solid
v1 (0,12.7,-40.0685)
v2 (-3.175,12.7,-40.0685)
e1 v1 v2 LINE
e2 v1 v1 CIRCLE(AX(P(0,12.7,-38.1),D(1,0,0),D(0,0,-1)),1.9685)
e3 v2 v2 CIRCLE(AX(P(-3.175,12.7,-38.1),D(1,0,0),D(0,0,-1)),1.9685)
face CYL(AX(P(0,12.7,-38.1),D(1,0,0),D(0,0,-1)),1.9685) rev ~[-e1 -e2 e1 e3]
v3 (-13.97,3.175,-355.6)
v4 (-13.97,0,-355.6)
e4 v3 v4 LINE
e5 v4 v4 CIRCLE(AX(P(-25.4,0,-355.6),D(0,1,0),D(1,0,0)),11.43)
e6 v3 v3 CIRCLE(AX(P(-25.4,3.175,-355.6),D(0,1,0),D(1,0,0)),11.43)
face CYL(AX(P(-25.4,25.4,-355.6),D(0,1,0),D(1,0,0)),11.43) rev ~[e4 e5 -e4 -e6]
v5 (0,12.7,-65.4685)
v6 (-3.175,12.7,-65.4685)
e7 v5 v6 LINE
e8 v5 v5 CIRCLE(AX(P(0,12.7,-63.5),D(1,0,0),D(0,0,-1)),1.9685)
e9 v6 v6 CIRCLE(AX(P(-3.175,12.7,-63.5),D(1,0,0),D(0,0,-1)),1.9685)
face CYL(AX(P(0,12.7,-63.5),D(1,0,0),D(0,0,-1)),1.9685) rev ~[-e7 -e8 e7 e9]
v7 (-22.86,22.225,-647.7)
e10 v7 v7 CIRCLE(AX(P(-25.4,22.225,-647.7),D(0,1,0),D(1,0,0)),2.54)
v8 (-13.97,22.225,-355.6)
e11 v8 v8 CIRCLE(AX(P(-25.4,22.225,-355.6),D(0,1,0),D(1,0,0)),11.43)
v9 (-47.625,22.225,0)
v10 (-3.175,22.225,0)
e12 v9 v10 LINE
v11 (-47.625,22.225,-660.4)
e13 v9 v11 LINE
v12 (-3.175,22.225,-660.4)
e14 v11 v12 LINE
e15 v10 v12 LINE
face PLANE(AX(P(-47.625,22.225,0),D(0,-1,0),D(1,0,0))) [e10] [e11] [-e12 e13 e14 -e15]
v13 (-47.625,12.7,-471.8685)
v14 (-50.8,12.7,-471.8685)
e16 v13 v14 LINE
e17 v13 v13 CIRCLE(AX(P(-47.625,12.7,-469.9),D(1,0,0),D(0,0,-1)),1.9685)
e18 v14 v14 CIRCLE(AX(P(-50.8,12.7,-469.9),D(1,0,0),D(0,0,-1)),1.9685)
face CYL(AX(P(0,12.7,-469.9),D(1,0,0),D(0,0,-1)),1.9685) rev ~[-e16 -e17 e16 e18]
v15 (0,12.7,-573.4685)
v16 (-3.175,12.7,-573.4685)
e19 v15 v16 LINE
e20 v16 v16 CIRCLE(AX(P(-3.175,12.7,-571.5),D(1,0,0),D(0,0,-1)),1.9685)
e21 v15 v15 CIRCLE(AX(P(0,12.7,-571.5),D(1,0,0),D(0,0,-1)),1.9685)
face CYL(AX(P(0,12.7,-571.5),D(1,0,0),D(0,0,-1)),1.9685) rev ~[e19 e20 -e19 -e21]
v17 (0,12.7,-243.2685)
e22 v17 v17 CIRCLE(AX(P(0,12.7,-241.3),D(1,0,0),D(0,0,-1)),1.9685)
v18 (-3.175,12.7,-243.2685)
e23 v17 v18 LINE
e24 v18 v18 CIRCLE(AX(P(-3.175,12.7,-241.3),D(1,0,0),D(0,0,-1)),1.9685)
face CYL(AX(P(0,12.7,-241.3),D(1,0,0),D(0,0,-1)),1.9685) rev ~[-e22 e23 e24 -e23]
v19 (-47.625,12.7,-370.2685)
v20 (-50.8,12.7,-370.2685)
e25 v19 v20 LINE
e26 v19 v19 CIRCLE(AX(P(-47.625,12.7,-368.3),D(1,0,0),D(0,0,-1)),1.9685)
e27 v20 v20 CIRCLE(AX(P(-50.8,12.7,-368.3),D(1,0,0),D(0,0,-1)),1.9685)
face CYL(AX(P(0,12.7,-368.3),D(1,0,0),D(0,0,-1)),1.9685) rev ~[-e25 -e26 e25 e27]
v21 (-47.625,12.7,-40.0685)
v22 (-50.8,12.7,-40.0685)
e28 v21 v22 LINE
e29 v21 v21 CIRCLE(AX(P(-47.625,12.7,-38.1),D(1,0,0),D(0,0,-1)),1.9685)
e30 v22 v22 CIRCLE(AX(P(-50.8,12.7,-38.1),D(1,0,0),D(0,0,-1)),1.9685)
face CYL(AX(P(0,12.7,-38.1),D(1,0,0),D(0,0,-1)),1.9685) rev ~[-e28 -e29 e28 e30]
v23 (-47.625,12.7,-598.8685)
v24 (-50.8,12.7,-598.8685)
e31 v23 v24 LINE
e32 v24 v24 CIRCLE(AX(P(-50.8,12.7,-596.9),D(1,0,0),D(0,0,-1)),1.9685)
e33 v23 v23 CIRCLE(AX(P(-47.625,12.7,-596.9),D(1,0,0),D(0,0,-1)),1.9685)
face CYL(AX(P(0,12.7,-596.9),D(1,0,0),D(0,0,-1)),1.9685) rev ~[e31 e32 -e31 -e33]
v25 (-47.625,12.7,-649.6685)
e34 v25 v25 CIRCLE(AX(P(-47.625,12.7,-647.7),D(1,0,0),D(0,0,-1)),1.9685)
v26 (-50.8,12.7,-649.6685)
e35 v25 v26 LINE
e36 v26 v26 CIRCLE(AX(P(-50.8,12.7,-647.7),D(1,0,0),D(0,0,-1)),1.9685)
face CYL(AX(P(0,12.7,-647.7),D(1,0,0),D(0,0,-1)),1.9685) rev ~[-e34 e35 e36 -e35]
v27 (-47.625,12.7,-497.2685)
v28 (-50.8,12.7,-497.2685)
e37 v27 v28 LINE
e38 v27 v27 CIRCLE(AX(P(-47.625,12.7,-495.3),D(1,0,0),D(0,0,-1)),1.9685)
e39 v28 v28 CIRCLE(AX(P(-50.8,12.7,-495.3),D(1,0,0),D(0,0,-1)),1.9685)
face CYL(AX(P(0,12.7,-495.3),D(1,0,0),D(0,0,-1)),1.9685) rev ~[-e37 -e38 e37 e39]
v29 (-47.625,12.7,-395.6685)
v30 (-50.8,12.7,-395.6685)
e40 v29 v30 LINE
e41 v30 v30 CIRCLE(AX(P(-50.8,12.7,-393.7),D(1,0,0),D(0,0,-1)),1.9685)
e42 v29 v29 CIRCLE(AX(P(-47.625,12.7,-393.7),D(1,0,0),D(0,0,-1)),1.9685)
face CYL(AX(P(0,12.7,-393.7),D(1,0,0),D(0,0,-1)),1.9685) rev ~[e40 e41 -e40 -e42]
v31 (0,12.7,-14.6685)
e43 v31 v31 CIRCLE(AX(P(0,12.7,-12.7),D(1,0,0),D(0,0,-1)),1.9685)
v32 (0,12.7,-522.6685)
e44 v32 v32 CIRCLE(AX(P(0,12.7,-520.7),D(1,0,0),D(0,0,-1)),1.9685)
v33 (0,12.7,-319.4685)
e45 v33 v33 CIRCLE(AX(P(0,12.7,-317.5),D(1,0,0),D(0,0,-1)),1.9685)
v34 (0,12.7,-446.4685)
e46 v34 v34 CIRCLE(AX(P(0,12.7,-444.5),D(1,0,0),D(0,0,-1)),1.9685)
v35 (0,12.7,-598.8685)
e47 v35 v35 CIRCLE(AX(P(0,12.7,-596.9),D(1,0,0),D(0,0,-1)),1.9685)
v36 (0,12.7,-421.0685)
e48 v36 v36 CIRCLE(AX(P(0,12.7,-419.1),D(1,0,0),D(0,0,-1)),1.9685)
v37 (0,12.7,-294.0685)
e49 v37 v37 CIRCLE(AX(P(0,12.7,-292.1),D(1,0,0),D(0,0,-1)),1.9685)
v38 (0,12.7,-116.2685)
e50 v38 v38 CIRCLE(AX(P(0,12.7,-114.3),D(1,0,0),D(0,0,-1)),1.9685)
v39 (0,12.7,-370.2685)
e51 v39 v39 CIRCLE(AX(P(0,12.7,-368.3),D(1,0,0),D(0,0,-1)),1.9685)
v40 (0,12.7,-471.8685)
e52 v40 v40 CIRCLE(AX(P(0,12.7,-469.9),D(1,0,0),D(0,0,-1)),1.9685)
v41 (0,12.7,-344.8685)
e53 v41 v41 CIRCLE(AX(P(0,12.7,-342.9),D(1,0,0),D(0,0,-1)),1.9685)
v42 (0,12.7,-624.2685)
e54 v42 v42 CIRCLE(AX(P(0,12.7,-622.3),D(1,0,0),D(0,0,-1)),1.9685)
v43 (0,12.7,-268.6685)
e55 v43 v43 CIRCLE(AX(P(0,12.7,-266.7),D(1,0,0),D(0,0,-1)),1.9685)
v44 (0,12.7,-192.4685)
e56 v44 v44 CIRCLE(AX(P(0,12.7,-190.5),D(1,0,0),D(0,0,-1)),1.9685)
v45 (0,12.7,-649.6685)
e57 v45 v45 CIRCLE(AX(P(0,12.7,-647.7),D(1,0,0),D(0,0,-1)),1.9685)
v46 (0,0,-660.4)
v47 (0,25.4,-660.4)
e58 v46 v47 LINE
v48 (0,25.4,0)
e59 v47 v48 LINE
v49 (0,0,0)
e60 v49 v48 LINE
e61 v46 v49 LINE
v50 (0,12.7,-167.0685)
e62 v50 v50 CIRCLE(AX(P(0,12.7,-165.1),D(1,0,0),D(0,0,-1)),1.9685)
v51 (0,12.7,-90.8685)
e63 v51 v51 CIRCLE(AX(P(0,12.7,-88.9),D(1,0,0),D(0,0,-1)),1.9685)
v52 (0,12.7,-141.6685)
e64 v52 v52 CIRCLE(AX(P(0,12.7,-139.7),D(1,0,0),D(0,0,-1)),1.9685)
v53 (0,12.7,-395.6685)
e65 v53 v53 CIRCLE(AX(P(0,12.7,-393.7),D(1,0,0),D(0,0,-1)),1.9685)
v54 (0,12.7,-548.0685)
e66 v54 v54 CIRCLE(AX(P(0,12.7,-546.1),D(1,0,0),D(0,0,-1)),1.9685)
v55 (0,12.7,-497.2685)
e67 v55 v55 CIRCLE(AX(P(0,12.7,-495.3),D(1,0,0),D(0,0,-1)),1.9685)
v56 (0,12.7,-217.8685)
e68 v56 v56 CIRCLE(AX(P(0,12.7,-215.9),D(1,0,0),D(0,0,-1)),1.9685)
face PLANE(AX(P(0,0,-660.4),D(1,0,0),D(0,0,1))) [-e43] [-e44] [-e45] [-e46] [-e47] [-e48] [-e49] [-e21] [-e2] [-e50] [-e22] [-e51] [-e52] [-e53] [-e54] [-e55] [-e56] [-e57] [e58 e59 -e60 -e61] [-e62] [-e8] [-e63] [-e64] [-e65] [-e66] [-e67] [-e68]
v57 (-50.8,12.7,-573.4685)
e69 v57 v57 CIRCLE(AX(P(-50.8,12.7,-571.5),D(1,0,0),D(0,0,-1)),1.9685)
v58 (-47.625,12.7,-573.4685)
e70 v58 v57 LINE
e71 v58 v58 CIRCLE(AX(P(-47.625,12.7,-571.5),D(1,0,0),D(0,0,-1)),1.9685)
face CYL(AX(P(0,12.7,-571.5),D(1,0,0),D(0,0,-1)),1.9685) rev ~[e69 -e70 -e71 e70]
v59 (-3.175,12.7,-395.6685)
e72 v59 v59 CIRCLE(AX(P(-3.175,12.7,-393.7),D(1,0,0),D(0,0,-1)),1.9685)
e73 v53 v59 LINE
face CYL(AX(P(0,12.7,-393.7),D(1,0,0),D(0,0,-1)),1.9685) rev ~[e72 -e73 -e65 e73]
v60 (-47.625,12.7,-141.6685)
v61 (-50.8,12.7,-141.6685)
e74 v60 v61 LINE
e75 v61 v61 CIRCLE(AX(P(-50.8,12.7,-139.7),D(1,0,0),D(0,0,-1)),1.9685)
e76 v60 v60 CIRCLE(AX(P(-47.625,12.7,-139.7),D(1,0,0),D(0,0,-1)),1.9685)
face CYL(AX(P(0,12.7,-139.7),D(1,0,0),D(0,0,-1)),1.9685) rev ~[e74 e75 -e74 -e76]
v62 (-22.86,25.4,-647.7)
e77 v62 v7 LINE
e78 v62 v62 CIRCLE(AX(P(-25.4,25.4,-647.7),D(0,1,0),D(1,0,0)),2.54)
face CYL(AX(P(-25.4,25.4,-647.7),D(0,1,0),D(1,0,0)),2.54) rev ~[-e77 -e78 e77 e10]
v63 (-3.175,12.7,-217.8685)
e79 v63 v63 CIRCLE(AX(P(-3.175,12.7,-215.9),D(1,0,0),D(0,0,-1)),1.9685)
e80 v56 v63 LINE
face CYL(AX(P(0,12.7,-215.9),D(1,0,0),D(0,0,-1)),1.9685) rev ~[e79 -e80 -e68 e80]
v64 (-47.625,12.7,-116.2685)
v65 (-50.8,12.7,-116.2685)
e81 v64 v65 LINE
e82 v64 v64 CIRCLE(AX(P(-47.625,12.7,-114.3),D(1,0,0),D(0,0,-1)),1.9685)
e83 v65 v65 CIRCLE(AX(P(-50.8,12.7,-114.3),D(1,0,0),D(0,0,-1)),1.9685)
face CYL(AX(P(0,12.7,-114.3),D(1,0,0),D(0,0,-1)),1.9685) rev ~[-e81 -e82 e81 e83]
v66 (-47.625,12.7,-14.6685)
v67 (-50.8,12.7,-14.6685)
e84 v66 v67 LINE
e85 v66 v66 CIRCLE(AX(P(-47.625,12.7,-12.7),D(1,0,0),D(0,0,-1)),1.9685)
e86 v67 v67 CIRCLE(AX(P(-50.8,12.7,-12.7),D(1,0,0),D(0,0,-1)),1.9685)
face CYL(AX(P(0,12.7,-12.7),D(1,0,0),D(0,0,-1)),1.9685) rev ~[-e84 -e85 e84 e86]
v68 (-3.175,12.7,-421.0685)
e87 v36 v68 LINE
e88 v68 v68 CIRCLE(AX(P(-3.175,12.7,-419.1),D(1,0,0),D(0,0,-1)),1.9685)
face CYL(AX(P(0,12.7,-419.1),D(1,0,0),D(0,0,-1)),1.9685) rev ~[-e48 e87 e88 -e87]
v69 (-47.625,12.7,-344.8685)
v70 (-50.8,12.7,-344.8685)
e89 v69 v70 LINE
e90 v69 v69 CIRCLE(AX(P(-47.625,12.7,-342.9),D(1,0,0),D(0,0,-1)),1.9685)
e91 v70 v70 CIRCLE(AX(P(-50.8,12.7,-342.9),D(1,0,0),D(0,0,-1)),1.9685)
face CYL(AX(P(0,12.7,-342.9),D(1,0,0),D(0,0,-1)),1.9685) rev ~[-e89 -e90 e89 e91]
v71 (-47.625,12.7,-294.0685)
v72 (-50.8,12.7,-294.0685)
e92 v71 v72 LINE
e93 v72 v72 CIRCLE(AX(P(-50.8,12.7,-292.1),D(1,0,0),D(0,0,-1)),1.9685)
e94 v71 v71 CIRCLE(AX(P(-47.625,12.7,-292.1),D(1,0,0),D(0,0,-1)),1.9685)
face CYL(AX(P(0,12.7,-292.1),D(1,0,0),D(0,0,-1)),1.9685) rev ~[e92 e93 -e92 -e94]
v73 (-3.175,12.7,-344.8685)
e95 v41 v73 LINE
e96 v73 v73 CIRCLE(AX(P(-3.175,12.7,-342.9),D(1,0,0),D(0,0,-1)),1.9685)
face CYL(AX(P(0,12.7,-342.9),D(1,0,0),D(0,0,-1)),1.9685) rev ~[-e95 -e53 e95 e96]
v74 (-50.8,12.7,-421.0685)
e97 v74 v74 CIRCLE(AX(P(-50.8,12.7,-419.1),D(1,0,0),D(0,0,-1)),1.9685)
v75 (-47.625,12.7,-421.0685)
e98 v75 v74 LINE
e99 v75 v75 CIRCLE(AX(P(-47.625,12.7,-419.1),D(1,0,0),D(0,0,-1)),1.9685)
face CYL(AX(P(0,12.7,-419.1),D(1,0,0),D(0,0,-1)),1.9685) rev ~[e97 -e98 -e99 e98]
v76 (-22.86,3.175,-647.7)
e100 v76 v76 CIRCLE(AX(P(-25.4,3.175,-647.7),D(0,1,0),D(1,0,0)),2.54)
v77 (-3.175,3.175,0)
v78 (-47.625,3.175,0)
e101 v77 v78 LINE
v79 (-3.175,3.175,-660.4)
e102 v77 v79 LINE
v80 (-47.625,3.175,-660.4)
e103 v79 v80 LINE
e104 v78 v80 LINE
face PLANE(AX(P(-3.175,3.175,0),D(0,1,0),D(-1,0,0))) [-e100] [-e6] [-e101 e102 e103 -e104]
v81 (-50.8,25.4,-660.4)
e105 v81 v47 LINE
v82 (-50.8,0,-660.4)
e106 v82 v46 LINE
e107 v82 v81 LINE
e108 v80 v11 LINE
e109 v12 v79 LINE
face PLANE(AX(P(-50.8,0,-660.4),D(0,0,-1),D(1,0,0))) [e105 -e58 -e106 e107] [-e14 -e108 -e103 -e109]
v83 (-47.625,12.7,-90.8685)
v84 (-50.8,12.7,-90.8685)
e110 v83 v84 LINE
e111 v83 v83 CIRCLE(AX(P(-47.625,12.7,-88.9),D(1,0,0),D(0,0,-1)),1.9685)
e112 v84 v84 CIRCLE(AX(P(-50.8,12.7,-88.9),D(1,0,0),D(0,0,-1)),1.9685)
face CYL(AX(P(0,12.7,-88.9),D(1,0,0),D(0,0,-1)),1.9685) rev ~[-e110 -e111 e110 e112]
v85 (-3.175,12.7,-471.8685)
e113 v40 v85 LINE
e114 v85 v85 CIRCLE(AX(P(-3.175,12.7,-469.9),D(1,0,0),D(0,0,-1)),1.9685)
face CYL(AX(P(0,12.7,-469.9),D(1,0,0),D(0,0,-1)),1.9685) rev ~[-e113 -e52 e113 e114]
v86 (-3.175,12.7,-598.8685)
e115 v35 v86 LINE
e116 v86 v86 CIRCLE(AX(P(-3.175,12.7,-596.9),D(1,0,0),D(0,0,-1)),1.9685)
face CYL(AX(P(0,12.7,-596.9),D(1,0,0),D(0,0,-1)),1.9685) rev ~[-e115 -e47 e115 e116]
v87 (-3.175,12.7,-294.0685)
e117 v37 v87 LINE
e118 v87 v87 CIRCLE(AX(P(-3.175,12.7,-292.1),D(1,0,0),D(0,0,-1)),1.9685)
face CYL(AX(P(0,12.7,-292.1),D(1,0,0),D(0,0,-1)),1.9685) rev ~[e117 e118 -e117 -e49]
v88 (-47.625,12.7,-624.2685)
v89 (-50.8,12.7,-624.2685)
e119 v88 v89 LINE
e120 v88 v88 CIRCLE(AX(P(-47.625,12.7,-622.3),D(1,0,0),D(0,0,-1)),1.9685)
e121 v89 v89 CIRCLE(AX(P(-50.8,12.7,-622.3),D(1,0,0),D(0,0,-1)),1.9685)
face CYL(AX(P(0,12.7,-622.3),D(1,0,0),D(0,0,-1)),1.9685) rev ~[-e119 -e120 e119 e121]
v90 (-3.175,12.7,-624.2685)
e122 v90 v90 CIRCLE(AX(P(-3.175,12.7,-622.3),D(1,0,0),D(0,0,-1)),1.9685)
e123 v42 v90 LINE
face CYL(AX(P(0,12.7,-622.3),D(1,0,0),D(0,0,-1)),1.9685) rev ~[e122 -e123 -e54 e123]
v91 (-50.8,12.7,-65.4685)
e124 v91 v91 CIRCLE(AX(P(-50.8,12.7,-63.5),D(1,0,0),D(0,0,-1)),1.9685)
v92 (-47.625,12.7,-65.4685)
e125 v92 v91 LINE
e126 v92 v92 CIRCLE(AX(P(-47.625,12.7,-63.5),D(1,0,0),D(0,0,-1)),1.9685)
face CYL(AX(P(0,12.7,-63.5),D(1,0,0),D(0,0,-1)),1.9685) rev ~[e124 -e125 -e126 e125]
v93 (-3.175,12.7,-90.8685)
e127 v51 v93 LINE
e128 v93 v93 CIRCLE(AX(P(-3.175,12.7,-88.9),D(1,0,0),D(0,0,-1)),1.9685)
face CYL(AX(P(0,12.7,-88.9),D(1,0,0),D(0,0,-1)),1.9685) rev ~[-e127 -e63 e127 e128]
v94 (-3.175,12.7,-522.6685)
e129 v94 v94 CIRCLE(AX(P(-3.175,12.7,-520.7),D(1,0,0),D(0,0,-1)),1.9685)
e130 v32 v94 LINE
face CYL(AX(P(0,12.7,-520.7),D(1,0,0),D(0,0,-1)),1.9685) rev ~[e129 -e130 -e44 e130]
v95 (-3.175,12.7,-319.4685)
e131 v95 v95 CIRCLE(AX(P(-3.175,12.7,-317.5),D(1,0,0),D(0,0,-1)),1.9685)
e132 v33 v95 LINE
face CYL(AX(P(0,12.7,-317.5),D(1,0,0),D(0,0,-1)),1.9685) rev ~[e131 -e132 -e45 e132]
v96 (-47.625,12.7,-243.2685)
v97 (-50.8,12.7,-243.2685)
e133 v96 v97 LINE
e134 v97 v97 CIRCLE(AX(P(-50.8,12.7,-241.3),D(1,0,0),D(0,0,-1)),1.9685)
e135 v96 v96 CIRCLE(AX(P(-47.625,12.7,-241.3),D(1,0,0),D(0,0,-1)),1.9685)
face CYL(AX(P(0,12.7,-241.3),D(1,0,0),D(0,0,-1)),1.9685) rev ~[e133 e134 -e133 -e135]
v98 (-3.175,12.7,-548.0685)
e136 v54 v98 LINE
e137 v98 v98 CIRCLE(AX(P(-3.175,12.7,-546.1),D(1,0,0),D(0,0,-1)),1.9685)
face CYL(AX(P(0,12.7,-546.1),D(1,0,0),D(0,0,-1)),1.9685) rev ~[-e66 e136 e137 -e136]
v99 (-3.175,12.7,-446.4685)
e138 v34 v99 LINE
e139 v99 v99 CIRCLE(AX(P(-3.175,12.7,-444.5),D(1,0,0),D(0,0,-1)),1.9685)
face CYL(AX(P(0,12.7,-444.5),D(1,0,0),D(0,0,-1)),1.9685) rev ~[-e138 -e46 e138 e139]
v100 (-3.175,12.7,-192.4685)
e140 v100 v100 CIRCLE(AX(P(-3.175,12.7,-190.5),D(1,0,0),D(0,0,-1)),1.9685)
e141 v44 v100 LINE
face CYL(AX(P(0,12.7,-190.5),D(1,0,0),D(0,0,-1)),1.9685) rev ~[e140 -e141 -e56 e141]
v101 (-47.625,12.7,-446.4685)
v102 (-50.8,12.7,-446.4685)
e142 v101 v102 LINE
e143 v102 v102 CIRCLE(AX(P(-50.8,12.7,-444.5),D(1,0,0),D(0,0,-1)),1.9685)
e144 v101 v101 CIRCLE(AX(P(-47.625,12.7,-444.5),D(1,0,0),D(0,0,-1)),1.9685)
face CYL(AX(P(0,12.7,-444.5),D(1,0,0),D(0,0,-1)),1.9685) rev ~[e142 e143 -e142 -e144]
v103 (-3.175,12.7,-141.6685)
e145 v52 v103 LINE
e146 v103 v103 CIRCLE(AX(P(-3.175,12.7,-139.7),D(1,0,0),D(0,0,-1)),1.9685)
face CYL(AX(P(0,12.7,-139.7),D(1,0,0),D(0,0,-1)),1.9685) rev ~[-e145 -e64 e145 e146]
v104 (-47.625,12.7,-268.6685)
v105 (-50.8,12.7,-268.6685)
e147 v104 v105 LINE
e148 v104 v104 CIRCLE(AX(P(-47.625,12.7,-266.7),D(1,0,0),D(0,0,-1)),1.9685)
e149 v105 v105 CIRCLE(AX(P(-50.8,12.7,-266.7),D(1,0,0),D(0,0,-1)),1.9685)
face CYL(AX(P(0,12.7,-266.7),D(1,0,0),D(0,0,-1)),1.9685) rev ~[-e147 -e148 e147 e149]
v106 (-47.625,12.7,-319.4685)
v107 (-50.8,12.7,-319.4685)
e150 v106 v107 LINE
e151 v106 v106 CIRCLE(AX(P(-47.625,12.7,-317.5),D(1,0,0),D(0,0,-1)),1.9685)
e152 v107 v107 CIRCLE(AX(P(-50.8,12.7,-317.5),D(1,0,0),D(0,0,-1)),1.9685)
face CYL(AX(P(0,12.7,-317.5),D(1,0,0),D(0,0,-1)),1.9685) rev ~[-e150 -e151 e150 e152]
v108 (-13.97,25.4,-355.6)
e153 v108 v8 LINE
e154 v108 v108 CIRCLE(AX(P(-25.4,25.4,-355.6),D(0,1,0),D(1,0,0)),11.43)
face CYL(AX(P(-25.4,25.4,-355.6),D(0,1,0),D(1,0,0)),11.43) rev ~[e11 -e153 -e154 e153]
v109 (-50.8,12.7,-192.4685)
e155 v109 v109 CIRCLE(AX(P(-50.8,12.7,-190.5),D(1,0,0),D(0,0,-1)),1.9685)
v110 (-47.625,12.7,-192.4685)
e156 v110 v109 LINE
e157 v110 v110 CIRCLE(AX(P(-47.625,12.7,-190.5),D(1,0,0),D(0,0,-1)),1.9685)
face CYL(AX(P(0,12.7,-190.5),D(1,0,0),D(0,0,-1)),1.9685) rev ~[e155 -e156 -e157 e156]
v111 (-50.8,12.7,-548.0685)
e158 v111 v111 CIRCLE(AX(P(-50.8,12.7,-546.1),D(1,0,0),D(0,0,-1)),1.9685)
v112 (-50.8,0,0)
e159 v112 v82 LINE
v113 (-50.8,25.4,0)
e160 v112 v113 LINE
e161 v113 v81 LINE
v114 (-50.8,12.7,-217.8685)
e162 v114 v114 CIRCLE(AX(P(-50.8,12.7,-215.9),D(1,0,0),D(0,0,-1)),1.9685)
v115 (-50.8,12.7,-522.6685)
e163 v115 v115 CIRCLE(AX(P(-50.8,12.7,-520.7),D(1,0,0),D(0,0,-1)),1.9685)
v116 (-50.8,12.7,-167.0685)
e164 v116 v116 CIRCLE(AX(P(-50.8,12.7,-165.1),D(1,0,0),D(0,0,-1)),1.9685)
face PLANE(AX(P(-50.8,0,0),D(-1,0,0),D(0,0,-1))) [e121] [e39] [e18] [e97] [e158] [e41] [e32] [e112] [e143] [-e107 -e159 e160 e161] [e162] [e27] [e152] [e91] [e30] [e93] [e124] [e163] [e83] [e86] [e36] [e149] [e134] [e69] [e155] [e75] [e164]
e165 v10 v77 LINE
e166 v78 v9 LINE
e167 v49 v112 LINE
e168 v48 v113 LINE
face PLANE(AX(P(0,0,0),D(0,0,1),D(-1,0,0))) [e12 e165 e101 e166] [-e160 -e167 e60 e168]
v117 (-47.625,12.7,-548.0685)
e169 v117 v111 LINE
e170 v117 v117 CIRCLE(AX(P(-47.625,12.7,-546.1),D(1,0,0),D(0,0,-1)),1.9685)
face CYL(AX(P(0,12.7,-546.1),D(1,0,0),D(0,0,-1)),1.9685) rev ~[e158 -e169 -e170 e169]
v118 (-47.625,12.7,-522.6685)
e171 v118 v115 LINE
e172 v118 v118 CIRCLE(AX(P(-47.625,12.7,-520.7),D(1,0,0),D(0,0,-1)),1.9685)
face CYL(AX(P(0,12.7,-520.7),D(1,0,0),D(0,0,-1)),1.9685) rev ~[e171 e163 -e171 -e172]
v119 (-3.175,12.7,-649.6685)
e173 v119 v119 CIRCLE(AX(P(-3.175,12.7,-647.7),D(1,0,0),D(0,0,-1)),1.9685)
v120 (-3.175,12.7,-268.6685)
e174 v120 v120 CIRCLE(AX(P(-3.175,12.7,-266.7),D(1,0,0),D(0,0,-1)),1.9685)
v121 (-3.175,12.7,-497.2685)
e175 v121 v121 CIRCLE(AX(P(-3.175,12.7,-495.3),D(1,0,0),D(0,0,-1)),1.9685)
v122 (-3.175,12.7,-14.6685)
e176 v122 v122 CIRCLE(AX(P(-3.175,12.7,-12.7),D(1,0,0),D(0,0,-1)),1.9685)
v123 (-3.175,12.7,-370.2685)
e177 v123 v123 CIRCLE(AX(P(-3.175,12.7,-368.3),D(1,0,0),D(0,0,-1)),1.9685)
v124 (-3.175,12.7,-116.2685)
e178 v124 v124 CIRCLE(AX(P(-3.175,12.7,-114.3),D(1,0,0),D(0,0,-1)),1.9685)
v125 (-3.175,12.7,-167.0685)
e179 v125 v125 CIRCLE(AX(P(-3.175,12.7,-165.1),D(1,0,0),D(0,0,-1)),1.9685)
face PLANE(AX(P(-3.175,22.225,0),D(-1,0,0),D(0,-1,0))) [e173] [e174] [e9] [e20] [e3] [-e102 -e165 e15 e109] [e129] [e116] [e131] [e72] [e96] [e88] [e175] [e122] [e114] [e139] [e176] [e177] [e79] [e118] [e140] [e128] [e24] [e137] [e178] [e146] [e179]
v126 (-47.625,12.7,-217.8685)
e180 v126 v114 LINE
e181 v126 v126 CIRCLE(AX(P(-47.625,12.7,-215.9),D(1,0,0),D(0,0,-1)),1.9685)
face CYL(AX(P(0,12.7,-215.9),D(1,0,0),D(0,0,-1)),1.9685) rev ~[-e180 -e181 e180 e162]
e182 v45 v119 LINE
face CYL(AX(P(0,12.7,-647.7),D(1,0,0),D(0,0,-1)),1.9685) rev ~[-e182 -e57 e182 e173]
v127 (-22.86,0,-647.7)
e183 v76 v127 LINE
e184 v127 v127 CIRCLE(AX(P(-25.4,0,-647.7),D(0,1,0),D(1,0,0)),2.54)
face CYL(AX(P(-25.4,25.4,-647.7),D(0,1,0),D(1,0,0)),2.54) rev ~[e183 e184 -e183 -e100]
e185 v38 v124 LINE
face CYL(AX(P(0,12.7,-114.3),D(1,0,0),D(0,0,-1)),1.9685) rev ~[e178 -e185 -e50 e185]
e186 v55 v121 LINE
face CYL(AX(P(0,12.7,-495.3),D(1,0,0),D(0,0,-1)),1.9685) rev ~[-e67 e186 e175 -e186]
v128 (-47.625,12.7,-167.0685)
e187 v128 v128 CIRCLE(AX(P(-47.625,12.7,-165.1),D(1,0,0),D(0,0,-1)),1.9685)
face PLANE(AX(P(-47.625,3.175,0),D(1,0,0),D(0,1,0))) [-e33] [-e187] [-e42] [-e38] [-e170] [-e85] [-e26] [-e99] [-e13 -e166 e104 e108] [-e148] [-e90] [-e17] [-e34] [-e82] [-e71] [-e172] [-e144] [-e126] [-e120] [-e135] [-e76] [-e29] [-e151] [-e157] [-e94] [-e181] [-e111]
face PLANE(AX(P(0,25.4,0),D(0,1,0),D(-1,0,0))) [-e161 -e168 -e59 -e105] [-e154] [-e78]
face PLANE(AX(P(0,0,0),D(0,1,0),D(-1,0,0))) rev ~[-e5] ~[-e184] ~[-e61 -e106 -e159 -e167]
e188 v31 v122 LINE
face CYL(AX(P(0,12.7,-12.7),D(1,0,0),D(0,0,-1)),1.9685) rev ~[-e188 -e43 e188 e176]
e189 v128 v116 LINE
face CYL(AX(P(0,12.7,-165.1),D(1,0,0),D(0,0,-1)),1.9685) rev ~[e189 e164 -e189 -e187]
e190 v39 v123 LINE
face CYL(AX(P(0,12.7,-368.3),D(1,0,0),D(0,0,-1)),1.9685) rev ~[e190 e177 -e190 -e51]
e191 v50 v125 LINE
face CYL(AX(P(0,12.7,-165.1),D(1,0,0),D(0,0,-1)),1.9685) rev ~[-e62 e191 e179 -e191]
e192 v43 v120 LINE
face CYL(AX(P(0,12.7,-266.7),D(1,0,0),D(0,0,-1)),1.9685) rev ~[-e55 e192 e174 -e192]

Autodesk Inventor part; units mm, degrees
ref_plane "YZ Plane" through (0, 0, 0) normal (1, 0, 0) x (0, 1, 0)
ref_plane "XZ Plane" through (0, 0, 0) normal (0, 1, 0) x (-1, 0, 0)
ref_plane "XY Plane" through (0, 0, 0) normal (0, 0, 1) x (1, 0, 0)
sketch "Sketch1" plane through (0, 0, 0) normal (0, 1, 0) x (-1, 0, 0)
  line L0 (0, 0) -> (50.8, 0)
  line L1 (50.8, 0) -> (50.8, -660.4)
  line L2 (50.8, -660.4) -> (0, -660.4)
  line L3 (0, -660.4) -> (0, 0)
  dimension "d0" = 50.8
  dimension "d1" = 660.4
extrude "Extrusion1" add sketch "Sketch1" along normal blind 25.4
sketch "Sketch3" plane through (-50.8, 0, 0) normal (0, 0, 1) x (1, 0, 0)
  line L0 (3.175, 22.225) -> (47.625, 22.225)
  line L1 (47.625, 22.225) -> (47.625, 3.175)
  line L2 (47.625, 3.175) -> (3.175, 3.175)
  line L3 (3.175, 3.175) -> (3.175, 22.225)
  line L4 (0, 25.4) -> (50.8, 25.4) projected
  line L5 (0, 0) -> (0, 25.4) projected
  line L6 (50.8, 0) -> (0, 0) projected
  line L7 (50.8, 0) -> (50.8, 25.4) projected
  dimension "d16" = 3.175
  dimension "d17" = 3.175
  dimension "d18" = 3.175
  dimension "d19" = 3.175
extrude "Extrusion3" cut sketch "Sketch3" against normal blind 660.4 contours L0 L1 L2 L3
sketch "Sketch4" plane through (0, 0, 0) normal (1, 0, 0) x (0, 0, -1)
  circle A0 centre (12.7, 12.7) radius 1.9685
  line L0 (0, 25.4) -> (660.4, 25.4) projected
  line L1 (0, 0) -> (0, 25.4) projected
  circle A1 centre (38.1, 12.7) radius 1.9685
  circle A2 centre (63.5, 12.7) radius 1.9685
  circle A3 centre (88.9, 12.7) radius 1.9685
  circle A4 centre (114.3, 12.7) radius 1.9685
  circle A5 centre (139.7, 12.7) radius 1.9685
  circle A6 centre (165.1, 12.7) radius 1.9685
  circle A7 centre (190.5, 12.7) radius 1.9685
  circle A8 centre (215.9, 12.7) radius 1.9685
  circle A9 centre (241.3, 12.7) radius 1.9685
  circle A10 centre (266.7, 12.7) radius 1.9685
  circle A11 centre (292.1, 12.7) radius 1.9685
  circle A12 centre (317.5, 12.7) radius 1.9685
  circle A13 centre (342.9, 12.7) radius 1.9685
  circle A14 centre (368.3, 12.7) radius 1.9685
  circle A15 centre (393.7, 12.7) radius 1.9685
  circle A16 centre (419.1, 12.7) radius 1.9685
  circle A17 centre (444.5, 12.7) radius 1.9685
  circle A18 centre (469.9, 12.7) radius 1.9685
  circle A19 centre (495.3, 12.7) radius 1.9685
  circle A20 centre (520.7, 12.7) radius 1.9685
  circle A21 centre (546.1, 12.7) radius 1.9685
  circle A22 centre (571.5, 12.7) radius 1.9685
  circle A23 centre (596.9, 12.7) radius 1.9685
  circle A24 centre (622.3, 12.7) radius 1.9685
  circle A25 centre (647.7, 12.7) radius 1.9685
  dimension "d22" = 3.937
  dimension "d23" = 12.7
  dimension "d24" = 12.7
  dimension "d27" = 25.4
extrude "Extrusion4" cut sketch "Sketch4" against normal blind 50.8
sketch "Sketch5" plane through (0, 25.4, 0) normal (0, 1, 0) x (1, 0, 0)
  circle A0 centre (-25.4, 355.6) radius 11.43
  line L0 (-50.8, 660.4) -> (-50.8, 0) projected
  circle A1 centre (-25.4, 647.7) radius 2.54
  line L1 (0, 660.4) -> (-50.8, 660.4) projected
  point P0 (0, 0)
  dimension "d34" = 22.86
  dimension "d35" = 25.4
  dimension "d36" = 304.8
  dimension "d39" = 5.08
  dimension "d40" = 25.4
  dimension "d41" = 12.7
extrude "Extrusion5" cut sketch "Sketch5" against normal blind 25.4
properties part number "kermit frame 8"
